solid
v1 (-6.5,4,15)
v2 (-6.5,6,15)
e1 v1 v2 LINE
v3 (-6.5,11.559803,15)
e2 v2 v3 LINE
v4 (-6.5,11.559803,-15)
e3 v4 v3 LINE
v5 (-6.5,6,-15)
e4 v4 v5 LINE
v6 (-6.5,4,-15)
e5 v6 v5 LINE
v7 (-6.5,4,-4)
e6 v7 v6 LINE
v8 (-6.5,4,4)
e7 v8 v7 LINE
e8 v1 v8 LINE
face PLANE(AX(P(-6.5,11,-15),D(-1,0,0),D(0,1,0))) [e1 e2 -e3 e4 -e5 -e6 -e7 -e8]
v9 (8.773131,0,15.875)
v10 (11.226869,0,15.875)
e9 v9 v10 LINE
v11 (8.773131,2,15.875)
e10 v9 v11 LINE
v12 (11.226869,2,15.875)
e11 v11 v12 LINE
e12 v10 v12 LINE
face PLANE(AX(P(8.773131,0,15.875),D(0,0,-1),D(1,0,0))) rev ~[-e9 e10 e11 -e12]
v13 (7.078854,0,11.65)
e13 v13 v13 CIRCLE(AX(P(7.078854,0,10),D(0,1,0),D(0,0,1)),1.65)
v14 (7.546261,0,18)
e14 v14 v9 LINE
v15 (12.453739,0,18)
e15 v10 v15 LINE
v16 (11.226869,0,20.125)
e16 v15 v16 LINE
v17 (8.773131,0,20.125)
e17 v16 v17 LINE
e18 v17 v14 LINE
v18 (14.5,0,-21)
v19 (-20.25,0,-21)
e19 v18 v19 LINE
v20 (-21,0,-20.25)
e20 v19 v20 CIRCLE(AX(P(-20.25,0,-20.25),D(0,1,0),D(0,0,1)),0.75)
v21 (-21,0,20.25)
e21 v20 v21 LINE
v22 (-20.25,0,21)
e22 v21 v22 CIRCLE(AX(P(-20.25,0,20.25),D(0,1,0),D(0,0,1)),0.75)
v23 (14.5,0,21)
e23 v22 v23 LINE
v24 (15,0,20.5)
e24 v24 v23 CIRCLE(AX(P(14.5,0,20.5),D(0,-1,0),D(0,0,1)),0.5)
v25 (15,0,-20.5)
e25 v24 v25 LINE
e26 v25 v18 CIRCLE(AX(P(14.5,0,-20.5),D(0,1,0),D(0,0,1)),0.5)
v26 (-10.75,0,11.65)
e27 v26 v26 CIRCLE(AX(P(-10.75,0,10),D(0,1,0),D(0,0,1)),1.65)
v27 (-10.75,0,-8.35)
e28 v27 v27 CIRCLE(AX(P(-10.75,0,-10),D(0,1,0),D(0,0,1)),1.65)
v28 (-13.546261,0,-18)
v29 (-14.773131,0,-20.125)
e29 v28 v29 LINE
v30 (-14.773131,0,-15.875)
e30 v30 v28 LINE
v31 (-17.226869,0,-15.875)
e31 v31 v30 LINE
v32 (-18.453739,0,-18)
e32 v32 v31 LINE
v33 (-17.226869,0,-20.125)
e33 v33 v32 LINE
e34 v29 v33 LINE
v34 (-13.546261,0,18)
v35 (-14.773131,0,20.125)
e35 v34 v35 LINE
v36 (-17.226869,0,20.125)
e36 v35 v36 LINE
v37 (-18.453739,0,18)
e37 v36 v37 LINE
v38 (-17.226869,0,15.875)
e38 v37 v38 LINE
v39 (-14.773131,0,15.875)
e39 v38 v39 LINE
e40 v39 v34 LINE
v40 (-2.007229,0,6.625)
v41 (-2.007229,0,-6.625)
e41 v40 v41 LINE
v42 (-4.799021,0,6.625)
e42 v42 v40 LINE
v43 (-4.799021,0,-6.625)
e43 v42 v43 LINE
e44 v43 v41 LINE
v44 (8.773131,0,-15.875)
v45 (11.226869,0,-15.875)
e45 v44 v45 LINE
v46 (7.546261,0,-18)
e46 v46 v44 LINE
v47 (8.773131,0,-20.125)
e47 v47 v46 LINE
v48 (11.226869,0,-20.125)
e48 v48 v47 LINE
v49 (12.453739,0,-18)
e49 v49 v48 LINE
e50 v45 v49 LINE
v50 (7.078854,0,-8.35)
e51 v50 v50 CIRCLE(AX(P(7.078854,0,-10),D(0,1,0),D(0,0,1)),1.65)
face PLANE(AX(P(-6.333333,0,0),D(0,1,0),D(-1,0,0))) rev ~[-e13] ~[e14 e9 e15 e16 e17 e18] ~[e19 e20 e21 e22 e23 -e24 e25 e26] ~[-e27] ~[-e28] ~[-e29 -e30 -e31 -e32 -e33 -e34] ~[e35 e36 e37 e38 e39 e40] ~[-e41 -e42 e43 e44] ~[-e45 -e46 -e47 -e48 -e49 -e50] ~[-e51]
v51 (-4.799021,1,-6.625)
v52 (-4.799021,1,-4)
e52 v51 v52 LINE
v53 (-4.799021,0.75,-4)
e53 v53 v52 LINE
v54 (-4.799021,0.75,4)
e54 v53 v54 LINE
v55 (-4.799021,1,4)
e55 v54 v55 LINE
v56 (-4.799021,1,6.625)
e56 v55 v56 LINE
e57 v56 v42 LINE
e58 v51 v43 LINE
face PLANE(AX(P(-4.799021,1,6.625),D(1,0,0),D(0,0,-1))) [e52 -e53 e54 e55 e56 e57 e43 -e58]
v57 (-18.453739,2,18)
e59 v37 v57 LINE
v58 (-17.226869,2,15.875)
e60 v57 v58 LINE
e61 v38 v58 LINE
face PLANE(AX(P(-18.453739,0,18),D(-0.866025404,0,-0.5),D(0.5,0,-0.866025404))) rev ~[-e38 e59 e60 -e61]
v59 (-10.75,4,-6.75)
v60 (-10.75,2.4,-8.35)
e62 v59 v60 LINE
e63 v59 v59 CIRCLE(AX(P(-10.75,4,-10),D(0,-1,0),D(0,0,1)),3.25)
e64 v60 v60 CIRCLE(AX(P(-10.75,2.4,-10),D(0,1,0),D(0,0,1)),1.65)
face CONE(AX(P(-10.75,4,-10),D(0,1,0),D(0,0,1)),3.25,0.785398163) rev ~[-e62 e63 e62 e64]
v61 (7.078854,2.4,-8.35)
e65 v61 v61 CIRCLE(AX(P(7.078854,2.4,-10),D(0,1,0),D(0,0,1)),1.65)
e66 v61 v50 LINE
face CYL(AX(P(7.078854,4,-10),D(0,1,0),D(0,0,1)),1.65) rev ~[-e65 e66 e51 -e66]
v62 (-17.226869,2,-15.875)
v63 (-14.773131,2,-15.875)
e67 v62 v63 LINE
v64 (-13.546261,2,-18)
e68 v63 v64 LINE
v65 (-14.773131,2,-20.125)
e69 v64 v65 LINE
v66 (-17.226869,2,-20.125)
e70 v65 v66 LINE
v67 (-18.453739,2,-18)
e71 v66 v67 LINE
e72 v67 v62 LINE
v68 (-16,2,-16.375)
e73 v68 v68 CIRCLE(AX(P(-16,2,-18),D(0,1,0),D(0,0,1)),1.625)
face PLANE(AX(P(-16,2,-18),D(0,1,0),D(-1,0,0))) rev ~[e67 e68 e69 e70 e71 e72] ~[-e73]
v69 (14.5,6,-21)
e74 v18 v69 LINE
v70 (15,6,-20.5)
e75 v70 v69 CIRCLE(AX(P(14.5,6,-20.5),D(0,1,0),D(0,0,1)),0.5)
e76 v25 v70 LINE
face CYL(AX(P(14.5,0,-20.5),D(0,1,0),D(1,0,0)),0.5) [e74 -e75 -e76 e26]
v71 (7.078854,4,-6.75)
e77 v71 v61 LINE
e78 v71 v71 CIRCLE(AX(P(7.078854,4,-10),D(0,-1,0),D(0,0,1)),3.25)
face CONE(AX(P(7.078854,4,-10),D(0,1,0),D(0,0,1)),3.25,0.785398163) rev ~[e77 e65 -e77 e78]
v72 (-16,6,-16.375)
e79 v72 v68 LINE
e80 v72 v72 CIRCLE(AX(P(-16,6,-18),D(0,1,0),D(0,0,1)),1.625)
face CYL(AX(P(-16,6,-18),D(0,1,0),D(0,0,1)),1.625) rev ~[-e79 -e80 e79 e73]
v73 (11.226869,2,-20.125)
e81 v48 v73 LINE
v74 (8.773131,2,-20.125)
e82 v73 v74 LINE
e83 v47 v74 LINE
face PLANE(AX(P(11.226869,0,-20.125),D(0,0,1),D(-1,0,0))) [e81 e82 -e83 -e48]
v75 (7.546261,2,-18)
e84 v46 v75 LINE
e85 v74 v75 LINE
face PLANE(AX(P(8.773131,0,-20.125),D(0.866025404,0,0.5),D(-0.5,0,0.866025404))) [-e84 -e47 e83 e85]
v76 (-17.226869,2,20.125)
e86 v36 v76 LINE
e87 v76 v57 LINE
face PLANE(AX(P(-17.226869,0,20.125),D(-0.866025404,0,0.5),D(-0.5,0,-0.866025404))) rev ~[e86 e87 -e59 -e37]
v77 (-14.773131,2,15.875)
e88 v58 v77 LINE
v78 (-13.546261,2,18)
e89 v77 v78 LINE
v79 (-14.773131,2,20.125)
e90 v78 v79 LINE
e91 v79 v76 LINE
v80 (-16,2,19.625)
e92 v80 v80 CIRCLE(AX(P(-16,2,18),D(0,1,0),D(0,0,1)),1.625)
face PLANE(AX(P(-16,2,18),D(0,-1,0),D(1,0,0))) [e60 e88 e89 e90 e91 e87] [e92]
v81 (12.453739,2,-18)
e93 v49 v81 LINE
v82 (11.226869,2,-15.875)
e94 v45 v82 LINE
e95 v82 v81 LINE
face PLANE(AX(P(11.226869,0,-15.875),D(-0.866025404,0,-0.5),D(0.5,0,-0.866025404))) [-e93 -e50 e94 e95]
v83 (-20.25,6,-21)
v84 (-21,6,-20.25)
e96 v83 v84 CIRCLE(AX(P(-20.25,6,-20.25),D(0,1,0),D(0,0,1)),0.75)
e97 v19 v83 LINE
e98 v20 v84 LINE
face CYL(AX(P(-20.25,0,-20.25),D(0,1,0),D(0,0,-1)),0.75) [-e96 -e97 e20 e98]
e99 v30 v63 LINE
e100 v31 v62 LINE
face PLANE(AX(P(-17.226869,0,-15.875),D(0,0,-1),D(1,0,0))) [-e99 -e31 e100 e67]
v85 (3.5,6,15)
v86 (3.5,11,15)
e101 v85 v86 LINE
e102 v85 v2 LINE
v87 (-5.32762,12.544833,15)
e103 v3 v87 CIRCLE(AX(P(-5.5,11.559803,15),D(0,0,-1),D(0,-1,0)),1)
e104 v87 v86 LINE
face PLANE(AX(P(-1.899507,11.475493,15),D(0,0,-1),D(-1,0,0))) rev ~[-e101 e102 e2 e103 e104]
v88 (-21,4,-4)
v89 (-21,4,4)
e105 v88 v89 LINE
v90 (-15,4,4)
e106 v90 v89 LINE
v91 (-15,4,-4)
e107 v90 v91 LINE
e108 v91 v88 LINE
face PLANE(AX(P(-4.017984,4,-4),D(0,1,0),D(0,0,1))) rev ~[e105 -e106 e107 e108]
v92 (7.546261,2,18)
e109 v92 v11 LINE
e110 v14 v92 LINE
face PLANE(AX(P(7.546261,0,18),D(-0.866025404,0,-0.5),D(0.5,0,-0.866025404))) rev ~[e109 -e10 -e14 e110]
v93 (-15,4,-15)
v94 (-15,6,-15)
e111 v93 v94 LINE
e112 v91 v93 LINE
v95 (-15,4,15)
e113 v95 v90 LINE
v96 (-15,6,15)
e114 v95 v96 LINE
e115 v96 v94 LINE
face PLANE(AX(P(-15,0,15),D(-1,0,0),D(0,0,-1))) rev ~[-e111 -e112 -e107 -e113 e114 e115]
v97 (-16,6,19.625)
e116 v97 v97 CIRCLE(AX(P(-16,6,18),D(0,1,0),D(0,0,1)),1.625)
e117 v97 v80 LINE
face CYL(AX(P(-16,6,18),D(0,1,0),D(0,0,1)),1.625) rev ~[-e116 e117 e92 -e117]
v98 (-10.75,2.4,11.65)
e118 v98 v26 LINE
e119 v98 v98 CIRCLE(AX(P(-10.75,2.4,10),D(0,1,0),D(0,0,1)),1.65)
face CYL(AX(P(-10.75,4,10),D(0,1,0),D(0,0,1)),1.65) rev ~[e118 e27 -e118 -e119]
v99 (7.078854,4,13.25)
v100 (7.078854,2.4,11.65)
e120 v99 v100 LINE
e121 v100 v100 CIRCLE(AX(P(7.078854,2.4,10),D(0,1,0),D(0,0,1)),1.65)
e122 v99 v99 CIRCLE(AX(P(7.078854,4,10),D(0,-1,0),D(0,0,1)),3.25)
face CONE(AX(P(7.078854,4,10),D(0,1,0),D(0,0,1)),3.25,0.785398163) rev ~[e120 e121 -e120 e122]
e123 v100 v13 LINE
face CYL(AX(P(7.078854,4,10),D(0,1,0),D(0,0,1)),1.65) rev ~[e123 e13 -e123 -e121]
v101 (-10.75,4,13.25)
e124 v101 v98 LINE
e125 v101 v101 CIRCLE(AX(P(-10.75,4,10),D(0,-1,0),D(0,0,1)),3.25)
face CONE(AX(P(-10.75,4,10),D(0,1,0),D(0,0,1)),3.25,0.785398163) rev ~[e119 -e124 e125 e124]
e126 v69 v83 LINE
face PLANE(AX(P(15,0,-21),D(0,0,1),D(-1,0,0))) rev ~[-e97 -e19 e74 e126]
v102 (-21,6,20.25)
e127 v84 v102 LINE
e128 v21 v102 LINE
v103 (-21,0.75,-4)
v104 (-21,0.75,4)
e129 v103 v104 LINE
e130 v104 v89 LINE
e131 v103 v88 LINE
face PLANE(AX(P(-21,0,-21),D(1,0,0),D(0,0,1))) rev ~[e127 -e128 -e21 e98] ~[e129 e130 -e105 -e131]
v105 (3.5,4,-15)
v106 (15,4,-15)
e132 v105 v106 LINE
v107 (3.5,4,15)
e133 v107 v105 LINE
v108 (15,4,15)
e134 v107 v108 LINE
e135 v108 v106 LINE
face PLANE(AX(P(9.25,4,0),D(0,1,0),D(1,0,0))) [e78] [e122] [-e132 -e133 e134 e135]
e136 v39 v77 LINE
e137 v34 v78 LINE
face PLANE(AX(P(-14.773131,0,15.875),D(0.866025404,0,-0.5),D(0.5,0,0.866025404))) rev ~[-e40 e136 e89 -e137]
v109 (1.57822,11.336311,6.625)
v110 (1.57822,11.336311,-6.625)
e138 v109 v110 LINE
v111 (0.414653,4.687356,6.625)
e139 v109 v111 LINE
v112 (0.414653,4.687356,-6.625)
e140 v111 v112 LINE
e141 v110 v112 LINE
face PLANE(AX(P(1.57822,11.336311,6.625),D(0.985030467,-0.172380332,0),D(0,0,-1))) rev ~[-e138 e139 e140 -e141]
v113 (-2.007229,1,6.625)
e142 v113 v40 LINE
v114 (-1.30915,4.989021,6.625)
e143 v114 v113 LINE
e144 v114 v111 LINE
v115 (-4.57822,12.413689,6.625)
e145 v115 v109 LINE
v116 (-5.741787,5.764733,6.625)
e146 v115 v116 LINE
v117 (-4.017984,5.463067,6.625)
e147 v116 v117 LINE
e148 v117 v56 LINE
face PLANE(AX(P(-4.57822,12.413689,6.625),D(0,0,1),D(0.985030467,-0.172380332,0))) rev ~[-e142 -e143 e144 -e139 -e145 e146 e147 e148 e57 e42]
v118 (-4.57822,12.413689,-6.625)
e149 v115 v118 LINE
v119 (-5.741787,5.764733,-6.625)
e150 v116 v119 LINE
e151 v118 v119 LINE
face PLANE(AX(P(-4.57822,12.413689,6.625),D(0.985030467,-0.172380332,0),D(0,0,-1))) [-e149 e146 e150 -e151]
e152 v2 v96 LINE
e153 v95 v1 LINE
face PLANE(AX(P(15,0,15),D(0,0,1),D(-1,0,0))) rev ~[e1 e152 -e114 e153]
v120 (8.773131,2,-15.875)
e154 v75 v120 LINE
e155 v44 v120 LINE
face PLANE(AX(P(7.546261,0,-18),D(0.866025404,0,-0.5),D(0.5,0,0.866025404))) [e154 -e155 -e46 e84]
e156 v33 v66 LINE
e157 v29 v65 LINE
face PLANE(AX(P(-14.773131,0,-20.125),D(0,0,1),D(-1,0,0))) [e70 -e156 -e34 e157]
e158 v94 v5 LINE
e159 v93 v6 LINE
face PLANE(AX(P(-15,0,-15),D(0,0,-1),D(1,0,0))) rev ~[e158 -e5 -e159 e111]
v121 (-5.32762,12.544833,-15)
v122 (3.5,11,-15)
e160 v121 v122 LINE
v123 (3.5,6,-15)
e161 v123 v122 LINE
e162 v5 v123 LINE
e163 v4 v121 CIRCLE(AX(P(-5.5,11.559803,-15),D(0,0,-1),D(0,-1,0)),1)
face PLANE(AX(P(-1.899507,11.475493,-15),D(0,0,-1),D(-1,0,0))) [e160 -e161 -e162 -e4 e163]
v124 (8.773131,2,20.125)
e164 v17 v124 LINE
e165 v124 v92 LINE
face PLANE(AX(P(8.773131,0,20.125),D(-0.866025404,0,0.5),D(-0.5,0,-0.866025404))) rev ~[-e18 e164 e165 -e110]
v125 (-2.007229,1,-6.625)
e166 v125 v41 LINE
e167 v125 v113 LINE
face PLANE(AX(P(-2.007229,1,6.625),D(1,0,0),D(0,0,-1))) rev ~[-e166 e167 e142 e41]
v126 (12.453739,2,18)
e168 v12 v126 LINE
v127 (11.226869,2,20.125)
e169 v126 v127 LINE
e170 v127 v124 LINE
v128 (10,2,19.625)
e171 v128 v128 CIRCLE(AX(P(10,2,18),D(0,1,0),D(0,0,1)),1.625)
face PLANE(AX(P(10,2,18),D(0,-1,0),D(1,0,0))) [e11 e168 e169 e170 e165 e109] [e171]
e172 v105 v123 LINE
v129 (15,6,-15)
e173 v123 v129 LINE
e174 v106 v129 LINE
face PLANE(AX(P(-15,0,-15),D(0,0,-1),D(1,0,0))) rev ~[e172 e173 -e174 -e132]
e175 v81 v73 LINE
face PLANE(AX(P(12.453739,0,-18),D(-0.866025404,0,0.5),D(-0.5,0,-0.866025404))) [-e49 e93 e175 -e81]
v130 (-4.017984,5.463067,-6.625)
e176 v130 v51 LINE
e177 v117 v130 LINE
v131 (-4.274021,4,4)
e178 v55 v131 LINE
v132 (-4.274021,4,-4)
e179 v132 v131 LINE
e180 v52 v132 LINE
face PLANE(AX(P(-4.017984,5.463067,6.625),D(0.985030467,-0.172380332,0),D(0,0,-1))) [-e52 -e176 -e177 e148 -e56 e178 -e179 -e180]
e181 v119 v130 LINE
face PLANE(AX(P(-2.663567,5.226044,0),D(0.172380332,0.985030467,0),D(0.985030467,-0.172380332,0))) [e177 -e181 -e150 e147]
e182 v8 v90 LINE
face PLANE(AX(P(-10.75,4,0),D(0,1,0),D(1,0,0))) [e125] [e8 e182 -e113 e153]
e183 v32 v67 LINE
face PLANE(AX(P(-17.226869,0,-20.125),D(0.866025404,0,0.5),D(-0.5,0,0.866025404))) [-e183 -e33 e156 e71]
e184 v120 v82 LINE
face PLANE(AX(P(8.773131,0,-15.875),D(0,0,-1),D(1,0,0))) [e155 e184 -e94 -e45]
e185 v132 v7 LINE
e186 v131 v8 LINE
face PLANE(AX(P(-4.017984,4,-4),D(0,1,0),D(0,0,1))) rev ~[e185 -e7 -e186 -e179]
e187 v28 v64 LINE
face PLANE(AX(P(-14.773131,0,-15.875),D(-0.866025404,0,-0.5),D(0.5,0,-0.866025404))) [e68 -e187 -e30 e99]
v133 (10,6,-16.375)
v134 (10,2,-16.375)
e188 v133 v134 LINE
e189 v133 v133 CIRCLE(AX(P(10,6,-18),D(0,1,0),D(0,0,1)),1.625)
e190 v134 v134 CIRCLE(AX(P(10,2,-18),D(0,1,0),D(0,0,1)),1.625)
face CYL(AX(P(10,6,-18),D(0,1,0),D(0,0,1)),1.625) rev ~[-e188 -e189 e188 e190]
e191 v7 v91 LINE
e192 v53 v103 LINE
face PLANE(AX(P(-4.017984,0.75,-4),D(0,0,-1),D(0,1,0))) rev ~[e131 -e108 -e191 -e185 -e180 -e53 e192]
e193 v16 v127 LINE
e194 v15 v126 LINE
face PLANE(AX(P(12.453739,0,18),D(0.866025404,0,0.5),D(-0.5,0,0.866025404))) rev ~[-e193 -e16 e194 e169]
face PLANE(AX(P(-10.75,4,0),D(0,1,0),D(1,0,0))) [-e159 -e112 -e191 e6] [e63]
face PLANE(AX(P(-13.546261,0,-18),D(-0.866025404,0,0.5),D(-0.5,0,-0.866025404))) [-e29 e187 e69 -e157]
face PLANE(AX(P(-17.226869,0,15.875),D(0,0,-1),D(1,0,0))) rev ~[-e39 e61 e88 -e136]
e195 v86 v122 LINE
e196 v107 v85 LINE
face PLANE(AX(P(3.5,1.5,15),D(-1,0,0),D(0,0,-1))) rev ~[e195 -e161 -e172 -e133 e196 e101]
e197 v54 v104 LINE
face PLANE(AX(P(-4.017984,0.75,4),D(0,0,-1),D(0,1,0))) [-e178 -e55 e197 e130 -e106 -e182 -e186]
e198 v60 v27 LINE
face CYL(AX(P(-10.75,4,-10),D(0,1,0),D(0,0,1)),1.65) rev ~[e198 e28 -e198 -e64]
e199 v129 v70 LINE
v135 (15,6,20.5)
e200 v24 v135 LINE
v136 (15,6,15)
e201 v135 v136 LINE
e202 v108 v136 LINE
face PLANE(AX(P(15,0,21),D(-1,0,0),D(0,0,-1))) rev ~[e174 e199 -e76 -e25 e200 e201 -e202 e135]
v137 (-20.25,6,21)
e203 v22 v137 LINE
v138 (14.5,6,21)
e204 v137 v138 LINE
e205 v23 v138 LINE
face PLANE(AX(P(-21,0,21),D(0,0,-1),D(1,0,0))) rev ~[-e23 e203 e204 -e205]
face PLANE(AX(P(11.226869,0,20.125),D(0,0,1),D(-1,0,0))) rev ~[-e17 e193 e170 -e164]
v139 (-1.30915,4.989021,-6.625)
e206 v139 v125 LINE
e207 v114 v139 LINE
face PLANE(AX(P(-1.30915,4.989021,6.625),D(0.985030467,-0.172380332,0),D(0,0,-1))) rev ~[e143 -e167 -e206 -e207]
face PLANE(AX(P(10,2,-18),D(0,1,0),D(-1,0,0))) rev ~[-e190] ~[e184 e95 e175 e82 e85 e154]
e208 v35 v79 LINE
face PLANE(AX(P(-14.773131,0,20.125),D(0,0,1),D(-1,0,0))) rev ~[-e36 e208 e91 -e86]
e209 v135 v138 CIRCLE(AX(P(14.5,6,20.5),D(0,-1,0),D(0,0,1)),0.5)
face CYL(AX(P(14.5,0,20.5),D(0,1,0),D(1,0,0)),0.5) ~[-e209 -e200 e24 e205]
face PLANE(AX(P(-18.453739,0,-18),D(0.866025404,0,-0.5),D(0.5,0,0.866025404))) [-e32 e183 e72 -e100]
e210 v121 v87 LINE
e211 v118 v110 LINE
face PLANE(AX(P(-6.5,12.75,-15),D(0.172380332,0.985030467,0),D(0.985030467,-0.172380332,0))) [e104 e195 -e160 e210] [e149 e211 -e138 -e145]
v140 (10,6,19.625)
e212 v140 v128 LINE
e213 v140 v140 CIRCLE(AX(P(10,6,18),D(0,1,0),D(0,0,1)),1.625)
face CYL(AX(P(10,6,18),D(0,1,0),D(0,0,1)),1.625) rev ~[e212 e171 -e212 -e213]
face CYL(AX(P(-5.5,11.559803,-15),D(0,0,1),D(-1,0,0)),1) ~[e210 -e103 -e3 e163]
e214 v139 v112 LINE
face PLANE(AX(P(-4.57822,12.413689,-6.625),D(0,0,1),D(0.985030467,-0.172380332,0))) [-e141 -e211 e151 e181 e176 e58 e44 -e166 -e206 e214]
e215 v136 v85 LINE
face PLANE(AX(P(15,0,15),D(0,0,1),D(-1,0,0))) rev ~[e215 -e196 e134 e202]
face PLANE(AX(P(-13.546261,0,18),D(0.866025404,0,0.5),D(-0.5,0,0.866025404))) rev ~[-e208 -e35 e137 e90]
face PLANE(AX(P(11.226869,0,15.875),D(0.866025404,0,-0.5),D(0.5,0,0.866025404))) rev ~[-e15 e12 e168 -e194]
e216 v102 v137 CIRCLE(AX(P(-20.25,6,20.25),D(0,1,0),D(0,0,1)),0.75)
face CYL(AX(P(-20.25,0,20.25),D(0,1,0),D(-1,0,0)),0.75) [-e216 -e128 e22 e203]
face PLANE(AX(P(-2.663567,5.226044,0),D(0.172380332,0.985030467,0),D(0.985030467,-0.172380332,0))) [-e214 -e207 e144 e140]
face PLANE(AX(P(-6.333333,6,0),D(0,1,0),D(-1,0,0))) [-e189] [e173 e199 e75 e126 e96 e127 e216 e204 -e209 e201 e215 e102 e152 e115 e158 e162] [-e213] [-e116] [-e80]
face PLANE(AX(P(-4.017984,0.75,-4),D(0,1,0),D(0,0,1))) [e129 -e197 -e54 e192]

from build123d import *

# Parameters (mm, degrees)
SKETCH1_W                = 30
SKETCH1_H                = 30
BASE_PLATE_DEPTH         = 1.5
SIDE_WALLS_DEPTH         = 6
SKETCH3_W                = 10
SKETCH3_H                = 30
SWITCH_BLOCK_DEPTH       = 9.5
SKETCH11_W               = 8.5
SKETCH11_H               = 30
SKETCH11_W_2             = 11.5
THICKER_BODY_DEPTH       = 2.5
SWITCH_BLOCK_ANGLE_DEPTH = 30
SKETCH6_W                = 6.25
SKETCH6_H                = 13.25
SWITCH_POCKET_DEPTH      = 6.75
WIRE_CHANNEL_1_REACH     = 33.348
SKETCH7_W                = 2.75
SKETCH7_H                = 13.25
SKETCH19_W               = 2.79179182
SKETCH19_H               = 13.25
SWITCH_REMOVER_DEPTH     = 10
SKETCH4_R                = 1.625
M2_SCREWS_DEPTH          = 6
M2_NUTS_DEPTH            = 2
SKETCH17_R               = 1.65
M3_MOUNTING_SCREWS_DEPTH = 31.960660523
WIRE_CHANNEL_REACH       = 32.267
SKETCH8_W                = 8
SKETCH8_H                = 3.25
FILLET1_R                = 1
FILLET2_R                = 0.5
FILLET3_R                = 0.5
FILLET4_R                = 0.75
FILLET5_R                = 0.75


with BuildPart() as part:
    # Sketch1 → Base Plate (new body)
    with BuildSketch(Plane(origin=(0, 0, 0), x_dir=(1, 0, 0), z_dir=(0, 1, 0))):
        Rectangle(SKETCH1_W, SKETCH1_H)
    extrude(amount=BASE_PLATE_DEPTH)

    # Sketch2 → Side Walls (add)
    with BuildSketch(Plane.XZ):
        Polygon((15, 15), (-15, 15), (-15, -15), (15, -15), (15, -21), (-21, -21), (-21, 21), (15, 21), align=None)
    extrude(amount=-SIDE_WALLS_DEPTH)

    # Sketch3 → Switch Block (add)
    with BuildSketch(Plane(origin=(0, 1.5, 0), x_dir=(1, 0, 0), z_dir=(0, 1, 0))):
        with Locations((-1.5, 0)):
            Rectangle(SKETCH3_W, SKETCH3_H)
    extrude(amount=SWITCH_BLOCK_DEPTH)

    # Sketch11 → Thicker Body (add)
    with BuildSketch(Plane(origin=(0, 1.5, 0), x_dir=(1, 0, 0), z_dir=(0, 1, 0))):
        with Locations((-10.75, 0)):
            Rectangle(SKETCH11_W, SKETCH11_H)
        with Locations((9.25, 0)):
            Rectangle(SKETCH11_W_2, SKETCH11_H)
    extrude(amount=THICKER_BODY_DEPTH)

    # Sketch5 → Switch Block Angle (add)
    with BuildSketch(Plane(origin=(0, 0, -15), x_dir=(-1, 0, 0), z_dir=(0, 0, -1))):
        Polygon((6.5, 11), (6.5, 12.75), (-3.5, 11), align=None)
    extrude(amount=-SWITCH_BLOCK_ANGLE_DEPTH)

    # Sketch6 → Switch Pocket (cut)
    with BuildSketch(Plane(origin=(1.971801092, 11.267434809, 0), x_dir=(0.9850304671557043, -0.17238033175224804, 0), z_dir=(0.17238033175224804, 0.9850304671557043, 0))):
        with Locations((-3.52456214, 0)):
            Rectangle(SKETCH6_W, SKETCH6_H)
    extrude(amount=-SWITCH_POCKET_DEPTH, mode=Mode.SUBTRACT)

    # Wire Channel 1: up to this plane
    wire_channel_1_end = Plane(origin=(0, 1, 0), z_dir=(0, 1, 0))
    # Sketch7 → Wire Channel 1 (cut, up to the surface)
    with BuildSketch(Plane(origin=(0.808233852, 4.618479156, 0), x_dir=(0.9850304671557043, -0.17238033175224815, 0), z_dir=(0.17238033175224815, 0.9850304671557043, 0)), mode=Mode.PRIVATE) as wire_channel_1_sk1:
        with Locations((-3.52456214, 0)):
            Rectangle(SKETCH7_W, SKETCH7_H)
    wire_channel_1_tool1 = split(extrude(wire_channel_1_sk1.sketch, amount=-WIRE_CHANNEL_1_REACH, mode=Mode.PRIVATE), bisect_by=wire_channel_1_end, keep=Keep.BOTH, mode=Mode.PRIVATE)
    add(wire_channel_1_tool1.solids().sort_by_distance((-2.663567, 5.226044, 0))[0], mode=Mode.SUBTRACT)

    # Sketch19 → Switch Remover (cut)
    with BuildSketch(Plane(origin=(0, 1, 0), x_dir=(1, 0, 0), z_dir=(0, 1, 0))):
        with Locations((-3.403125, 0)):
            Rectangle(SKETCH19_W, SKETCH19_H)
    extrude(amount=-SWITCH_REMOVER_DEPTH, mode=Mode.SUBTRACT)

    # Sketch4 → M2 Screws (cut)
    with BuildSketch(Plane(origin=(0, 6, 0), x_dir=(1, 0, 0), z_dir=(0, 1, 0))):
        with Locations(Location((-16, -18, 0), (0, 0, 270))):
            Circle(SKETCH4_R)
        with Locations(Location((10, -18, 0), (0, 0, 270))):
            Circle(SKETCH4_R)
        with Locations(Location((10, 18, 0), (0, 0, 270))):
            Circle(SKETCH4_R)
        with Locations(Location((-16, 18, 0), (0, 0, 270))):
            Circle(SKETCH4_R)
    extrude(amount=-M2_SCREWS_DEPTH, mode=Mode.SUBTRACT)

    # Sketch16 → M2 Nuts (cut)
    with BuildSketch(Plane.XZ):
        Polygon((-14.773130678, 15.875), (-13.546261356, 18), (-14.773130678, 20.125), (-17.226869322, 20.125), (-18.453738644, 18), (-17.226869322, 15.875), align=None)
        Polygon((-17.226869322, -15.875), (-14.773130678, -15.875), (-13.546261356, -18), (-14.773130678, -20.125), (-17.226869322, -20.125), (-18.453738644, -18), align=None)
        Polygon((11.226869322, 15.875), (12.453738644, 18), (11.226869322, 20.125), (8.773130678, 20.125), (7.546261356, 18), (8.773130678, 15.875), align=None)
        Polygon((8.773130678, -15.875), (11.226869322, -15.875), (12.453738644, -18), (11.226869322, -20.125), (8.773130678, -20.125), (7.546261356, -18), align=None)
    extrude(amount=-M2_NUTS_DEPTH, mode=Mode.SUBTRACT)

    # Sketch17 → M3 Mounting Screws (cut, through all)
    with BuildSketch(Plane(origin=(0, 4, 0), x_dir=(1, 0, 0), z_dir=(0, 1, 0))):
        with Locations(Location((7.078853568, 10, 0), (0, 0, 270))):
            Circle(SKETCH17_R)
        with Locations(Location((7.078853568, -10, 0), (0, 0, 270))):
            Circle(SKETCH17_R)
        with Locations(Location((-10.75, -10, 0), (0, 0, 270))):
            Circle(SKETCH17_R)
        with Locations(Location((-10.75, 10, 0), (0, 0, 270))):
            Circle(SKETCH17_R)
    extrude(amount=-M3_MOUNTING_SCREWS_DEPTH, mode=Mode.SUBTRACT)

    # M3 Heads cone 1 section (through the dimple's axis) → M3 Heads (revolve, cut)
    with BuildSketch(Plane(origin=(7.078853568, 4, -10), x_dir=(0, 0, 1), z_dir=(1, 0, 0))):
        Polygon((0, 0), (3.25, 0), (0, 3.25), align=None)
    revolve(axis=Axis((7.078853568, 4, -10), (0, -1, 0)), mode=Mode.SUBTRACT)

    # M3 Heads cone 2 section (through the dimple's axis) → M3 Heads cone 2 (revolve, cut)
    with BuildSketch(Plane(origin=(7.078853568, 4, 10), x_dir=(0, 0, 1), z_dir=(1, 0, 0))):
        Polygon((0, 0), (3.25, 0), (0, 3.25), align=None)
    revolve(axis=Axis((7.078853568, 4, 10), (0, -1, 0)), mode=Mode.SUBTRACT)

    # M3 Heads cone 3 section (through the dimple's axis) → M3 Heads cone 3 (revolve, cut)
    with BuildSketch(Plane(origin=(-10.75, 4, 10), x_dir=(0, 0, 1), z_dir=(1, 0, 0))):
        Polygon((0, 0), (3.25, 0), (0, 3.25), align=None)
    revolve(axis=Axis((-10.75, 4, 10), (0, -1, 0)), mode=Mode.SUBTRACT)

    # M3 Heads cone 4 section (through the dimple's axis) → M3 Heads cone 4 (revolve, cut)
    with BuildSketch(Plane(origin=(-10.75, 4, -10), x_dir=(0, 0, 1), z_dir=(1, 0, 0))):
        Polygon((0, 0), (3.25, 0), (0, 3.25), align=None)
    revolve(axis=Axis((-10.75, 4, -10), (0, -1, 0)), mode=Mode.SUBTRACT)

    # Wire Channel: up to this face of the body (flat: up to its plane)
    wire_channel_end = Plane(part.part.faces().sort_by_distance((-21, 3, 0))[0])
    # Sketch8 → Wire Channel (cut, up to the picked face)
    with BuildSketch(Plane(origin=(-4.017984132, 2.099725317, 0), x_dir=(0, 0, 1), z_dir=(-1, 0, 0)), mode=Mode.PRIVATE) as wire_channel_sk1:
        with Locations((0, 0.275274683)):
            Rectangle(SKETCH8_W, SKETCH8_H)
    wire_channel_tool1 = split(extrude(wire_channel_sk1.sketch, amount=WIRE_CHANNEL_REACH, mode=Mode.PRIVATE), bisect_by=wire_channel_end, keep=Keep.BOTH, mode=Mode.PRIVATE)
    add(wire_channel_tool1.solids().sort_by(Axis((-4.017984, 2.375, 0), (-1, 0, 0)))[0], mode=Mode.SUBTRACT)

    # Fillet1
    fillet1_edges = [part.edges().sort_by_distance(p)[0] for p in [
        (-6.5, 12.75, 0),
    ]]
    fillet(fillet1_edges, radius=FILLET1_R)

    # Fillet2
    fillet2_edges = [part.edges().sort_by_distance(p)[0] for p in [
        (15, 3, 21),
    ]]
    fillet(fillet2_edges, radius=FILLET2_R)

    # Fillet3
    fillet3_edges = [part.edges().sort_by_distance(p)[0] for p in [
        (15, 3, -21),
    ]]
    fillet(fillet3_edges, radius=FILLET3_R)

    # Fillet4
    fillet4_edges = [part.edges().sort_by_distance(p)[0] for p in [
        (-21, 3, -21),
    ]]
    fillet(fillet4_edges, radius=FILLET4_R)

    # Fillet5
    fillet5_edges = [part.edges().sort_by_distance(p)[0] for p in [
        (-21, 3, 21),
    ]]
    fillet(fillet5_edges, radius=FILLET5_R)


solid = part.part
